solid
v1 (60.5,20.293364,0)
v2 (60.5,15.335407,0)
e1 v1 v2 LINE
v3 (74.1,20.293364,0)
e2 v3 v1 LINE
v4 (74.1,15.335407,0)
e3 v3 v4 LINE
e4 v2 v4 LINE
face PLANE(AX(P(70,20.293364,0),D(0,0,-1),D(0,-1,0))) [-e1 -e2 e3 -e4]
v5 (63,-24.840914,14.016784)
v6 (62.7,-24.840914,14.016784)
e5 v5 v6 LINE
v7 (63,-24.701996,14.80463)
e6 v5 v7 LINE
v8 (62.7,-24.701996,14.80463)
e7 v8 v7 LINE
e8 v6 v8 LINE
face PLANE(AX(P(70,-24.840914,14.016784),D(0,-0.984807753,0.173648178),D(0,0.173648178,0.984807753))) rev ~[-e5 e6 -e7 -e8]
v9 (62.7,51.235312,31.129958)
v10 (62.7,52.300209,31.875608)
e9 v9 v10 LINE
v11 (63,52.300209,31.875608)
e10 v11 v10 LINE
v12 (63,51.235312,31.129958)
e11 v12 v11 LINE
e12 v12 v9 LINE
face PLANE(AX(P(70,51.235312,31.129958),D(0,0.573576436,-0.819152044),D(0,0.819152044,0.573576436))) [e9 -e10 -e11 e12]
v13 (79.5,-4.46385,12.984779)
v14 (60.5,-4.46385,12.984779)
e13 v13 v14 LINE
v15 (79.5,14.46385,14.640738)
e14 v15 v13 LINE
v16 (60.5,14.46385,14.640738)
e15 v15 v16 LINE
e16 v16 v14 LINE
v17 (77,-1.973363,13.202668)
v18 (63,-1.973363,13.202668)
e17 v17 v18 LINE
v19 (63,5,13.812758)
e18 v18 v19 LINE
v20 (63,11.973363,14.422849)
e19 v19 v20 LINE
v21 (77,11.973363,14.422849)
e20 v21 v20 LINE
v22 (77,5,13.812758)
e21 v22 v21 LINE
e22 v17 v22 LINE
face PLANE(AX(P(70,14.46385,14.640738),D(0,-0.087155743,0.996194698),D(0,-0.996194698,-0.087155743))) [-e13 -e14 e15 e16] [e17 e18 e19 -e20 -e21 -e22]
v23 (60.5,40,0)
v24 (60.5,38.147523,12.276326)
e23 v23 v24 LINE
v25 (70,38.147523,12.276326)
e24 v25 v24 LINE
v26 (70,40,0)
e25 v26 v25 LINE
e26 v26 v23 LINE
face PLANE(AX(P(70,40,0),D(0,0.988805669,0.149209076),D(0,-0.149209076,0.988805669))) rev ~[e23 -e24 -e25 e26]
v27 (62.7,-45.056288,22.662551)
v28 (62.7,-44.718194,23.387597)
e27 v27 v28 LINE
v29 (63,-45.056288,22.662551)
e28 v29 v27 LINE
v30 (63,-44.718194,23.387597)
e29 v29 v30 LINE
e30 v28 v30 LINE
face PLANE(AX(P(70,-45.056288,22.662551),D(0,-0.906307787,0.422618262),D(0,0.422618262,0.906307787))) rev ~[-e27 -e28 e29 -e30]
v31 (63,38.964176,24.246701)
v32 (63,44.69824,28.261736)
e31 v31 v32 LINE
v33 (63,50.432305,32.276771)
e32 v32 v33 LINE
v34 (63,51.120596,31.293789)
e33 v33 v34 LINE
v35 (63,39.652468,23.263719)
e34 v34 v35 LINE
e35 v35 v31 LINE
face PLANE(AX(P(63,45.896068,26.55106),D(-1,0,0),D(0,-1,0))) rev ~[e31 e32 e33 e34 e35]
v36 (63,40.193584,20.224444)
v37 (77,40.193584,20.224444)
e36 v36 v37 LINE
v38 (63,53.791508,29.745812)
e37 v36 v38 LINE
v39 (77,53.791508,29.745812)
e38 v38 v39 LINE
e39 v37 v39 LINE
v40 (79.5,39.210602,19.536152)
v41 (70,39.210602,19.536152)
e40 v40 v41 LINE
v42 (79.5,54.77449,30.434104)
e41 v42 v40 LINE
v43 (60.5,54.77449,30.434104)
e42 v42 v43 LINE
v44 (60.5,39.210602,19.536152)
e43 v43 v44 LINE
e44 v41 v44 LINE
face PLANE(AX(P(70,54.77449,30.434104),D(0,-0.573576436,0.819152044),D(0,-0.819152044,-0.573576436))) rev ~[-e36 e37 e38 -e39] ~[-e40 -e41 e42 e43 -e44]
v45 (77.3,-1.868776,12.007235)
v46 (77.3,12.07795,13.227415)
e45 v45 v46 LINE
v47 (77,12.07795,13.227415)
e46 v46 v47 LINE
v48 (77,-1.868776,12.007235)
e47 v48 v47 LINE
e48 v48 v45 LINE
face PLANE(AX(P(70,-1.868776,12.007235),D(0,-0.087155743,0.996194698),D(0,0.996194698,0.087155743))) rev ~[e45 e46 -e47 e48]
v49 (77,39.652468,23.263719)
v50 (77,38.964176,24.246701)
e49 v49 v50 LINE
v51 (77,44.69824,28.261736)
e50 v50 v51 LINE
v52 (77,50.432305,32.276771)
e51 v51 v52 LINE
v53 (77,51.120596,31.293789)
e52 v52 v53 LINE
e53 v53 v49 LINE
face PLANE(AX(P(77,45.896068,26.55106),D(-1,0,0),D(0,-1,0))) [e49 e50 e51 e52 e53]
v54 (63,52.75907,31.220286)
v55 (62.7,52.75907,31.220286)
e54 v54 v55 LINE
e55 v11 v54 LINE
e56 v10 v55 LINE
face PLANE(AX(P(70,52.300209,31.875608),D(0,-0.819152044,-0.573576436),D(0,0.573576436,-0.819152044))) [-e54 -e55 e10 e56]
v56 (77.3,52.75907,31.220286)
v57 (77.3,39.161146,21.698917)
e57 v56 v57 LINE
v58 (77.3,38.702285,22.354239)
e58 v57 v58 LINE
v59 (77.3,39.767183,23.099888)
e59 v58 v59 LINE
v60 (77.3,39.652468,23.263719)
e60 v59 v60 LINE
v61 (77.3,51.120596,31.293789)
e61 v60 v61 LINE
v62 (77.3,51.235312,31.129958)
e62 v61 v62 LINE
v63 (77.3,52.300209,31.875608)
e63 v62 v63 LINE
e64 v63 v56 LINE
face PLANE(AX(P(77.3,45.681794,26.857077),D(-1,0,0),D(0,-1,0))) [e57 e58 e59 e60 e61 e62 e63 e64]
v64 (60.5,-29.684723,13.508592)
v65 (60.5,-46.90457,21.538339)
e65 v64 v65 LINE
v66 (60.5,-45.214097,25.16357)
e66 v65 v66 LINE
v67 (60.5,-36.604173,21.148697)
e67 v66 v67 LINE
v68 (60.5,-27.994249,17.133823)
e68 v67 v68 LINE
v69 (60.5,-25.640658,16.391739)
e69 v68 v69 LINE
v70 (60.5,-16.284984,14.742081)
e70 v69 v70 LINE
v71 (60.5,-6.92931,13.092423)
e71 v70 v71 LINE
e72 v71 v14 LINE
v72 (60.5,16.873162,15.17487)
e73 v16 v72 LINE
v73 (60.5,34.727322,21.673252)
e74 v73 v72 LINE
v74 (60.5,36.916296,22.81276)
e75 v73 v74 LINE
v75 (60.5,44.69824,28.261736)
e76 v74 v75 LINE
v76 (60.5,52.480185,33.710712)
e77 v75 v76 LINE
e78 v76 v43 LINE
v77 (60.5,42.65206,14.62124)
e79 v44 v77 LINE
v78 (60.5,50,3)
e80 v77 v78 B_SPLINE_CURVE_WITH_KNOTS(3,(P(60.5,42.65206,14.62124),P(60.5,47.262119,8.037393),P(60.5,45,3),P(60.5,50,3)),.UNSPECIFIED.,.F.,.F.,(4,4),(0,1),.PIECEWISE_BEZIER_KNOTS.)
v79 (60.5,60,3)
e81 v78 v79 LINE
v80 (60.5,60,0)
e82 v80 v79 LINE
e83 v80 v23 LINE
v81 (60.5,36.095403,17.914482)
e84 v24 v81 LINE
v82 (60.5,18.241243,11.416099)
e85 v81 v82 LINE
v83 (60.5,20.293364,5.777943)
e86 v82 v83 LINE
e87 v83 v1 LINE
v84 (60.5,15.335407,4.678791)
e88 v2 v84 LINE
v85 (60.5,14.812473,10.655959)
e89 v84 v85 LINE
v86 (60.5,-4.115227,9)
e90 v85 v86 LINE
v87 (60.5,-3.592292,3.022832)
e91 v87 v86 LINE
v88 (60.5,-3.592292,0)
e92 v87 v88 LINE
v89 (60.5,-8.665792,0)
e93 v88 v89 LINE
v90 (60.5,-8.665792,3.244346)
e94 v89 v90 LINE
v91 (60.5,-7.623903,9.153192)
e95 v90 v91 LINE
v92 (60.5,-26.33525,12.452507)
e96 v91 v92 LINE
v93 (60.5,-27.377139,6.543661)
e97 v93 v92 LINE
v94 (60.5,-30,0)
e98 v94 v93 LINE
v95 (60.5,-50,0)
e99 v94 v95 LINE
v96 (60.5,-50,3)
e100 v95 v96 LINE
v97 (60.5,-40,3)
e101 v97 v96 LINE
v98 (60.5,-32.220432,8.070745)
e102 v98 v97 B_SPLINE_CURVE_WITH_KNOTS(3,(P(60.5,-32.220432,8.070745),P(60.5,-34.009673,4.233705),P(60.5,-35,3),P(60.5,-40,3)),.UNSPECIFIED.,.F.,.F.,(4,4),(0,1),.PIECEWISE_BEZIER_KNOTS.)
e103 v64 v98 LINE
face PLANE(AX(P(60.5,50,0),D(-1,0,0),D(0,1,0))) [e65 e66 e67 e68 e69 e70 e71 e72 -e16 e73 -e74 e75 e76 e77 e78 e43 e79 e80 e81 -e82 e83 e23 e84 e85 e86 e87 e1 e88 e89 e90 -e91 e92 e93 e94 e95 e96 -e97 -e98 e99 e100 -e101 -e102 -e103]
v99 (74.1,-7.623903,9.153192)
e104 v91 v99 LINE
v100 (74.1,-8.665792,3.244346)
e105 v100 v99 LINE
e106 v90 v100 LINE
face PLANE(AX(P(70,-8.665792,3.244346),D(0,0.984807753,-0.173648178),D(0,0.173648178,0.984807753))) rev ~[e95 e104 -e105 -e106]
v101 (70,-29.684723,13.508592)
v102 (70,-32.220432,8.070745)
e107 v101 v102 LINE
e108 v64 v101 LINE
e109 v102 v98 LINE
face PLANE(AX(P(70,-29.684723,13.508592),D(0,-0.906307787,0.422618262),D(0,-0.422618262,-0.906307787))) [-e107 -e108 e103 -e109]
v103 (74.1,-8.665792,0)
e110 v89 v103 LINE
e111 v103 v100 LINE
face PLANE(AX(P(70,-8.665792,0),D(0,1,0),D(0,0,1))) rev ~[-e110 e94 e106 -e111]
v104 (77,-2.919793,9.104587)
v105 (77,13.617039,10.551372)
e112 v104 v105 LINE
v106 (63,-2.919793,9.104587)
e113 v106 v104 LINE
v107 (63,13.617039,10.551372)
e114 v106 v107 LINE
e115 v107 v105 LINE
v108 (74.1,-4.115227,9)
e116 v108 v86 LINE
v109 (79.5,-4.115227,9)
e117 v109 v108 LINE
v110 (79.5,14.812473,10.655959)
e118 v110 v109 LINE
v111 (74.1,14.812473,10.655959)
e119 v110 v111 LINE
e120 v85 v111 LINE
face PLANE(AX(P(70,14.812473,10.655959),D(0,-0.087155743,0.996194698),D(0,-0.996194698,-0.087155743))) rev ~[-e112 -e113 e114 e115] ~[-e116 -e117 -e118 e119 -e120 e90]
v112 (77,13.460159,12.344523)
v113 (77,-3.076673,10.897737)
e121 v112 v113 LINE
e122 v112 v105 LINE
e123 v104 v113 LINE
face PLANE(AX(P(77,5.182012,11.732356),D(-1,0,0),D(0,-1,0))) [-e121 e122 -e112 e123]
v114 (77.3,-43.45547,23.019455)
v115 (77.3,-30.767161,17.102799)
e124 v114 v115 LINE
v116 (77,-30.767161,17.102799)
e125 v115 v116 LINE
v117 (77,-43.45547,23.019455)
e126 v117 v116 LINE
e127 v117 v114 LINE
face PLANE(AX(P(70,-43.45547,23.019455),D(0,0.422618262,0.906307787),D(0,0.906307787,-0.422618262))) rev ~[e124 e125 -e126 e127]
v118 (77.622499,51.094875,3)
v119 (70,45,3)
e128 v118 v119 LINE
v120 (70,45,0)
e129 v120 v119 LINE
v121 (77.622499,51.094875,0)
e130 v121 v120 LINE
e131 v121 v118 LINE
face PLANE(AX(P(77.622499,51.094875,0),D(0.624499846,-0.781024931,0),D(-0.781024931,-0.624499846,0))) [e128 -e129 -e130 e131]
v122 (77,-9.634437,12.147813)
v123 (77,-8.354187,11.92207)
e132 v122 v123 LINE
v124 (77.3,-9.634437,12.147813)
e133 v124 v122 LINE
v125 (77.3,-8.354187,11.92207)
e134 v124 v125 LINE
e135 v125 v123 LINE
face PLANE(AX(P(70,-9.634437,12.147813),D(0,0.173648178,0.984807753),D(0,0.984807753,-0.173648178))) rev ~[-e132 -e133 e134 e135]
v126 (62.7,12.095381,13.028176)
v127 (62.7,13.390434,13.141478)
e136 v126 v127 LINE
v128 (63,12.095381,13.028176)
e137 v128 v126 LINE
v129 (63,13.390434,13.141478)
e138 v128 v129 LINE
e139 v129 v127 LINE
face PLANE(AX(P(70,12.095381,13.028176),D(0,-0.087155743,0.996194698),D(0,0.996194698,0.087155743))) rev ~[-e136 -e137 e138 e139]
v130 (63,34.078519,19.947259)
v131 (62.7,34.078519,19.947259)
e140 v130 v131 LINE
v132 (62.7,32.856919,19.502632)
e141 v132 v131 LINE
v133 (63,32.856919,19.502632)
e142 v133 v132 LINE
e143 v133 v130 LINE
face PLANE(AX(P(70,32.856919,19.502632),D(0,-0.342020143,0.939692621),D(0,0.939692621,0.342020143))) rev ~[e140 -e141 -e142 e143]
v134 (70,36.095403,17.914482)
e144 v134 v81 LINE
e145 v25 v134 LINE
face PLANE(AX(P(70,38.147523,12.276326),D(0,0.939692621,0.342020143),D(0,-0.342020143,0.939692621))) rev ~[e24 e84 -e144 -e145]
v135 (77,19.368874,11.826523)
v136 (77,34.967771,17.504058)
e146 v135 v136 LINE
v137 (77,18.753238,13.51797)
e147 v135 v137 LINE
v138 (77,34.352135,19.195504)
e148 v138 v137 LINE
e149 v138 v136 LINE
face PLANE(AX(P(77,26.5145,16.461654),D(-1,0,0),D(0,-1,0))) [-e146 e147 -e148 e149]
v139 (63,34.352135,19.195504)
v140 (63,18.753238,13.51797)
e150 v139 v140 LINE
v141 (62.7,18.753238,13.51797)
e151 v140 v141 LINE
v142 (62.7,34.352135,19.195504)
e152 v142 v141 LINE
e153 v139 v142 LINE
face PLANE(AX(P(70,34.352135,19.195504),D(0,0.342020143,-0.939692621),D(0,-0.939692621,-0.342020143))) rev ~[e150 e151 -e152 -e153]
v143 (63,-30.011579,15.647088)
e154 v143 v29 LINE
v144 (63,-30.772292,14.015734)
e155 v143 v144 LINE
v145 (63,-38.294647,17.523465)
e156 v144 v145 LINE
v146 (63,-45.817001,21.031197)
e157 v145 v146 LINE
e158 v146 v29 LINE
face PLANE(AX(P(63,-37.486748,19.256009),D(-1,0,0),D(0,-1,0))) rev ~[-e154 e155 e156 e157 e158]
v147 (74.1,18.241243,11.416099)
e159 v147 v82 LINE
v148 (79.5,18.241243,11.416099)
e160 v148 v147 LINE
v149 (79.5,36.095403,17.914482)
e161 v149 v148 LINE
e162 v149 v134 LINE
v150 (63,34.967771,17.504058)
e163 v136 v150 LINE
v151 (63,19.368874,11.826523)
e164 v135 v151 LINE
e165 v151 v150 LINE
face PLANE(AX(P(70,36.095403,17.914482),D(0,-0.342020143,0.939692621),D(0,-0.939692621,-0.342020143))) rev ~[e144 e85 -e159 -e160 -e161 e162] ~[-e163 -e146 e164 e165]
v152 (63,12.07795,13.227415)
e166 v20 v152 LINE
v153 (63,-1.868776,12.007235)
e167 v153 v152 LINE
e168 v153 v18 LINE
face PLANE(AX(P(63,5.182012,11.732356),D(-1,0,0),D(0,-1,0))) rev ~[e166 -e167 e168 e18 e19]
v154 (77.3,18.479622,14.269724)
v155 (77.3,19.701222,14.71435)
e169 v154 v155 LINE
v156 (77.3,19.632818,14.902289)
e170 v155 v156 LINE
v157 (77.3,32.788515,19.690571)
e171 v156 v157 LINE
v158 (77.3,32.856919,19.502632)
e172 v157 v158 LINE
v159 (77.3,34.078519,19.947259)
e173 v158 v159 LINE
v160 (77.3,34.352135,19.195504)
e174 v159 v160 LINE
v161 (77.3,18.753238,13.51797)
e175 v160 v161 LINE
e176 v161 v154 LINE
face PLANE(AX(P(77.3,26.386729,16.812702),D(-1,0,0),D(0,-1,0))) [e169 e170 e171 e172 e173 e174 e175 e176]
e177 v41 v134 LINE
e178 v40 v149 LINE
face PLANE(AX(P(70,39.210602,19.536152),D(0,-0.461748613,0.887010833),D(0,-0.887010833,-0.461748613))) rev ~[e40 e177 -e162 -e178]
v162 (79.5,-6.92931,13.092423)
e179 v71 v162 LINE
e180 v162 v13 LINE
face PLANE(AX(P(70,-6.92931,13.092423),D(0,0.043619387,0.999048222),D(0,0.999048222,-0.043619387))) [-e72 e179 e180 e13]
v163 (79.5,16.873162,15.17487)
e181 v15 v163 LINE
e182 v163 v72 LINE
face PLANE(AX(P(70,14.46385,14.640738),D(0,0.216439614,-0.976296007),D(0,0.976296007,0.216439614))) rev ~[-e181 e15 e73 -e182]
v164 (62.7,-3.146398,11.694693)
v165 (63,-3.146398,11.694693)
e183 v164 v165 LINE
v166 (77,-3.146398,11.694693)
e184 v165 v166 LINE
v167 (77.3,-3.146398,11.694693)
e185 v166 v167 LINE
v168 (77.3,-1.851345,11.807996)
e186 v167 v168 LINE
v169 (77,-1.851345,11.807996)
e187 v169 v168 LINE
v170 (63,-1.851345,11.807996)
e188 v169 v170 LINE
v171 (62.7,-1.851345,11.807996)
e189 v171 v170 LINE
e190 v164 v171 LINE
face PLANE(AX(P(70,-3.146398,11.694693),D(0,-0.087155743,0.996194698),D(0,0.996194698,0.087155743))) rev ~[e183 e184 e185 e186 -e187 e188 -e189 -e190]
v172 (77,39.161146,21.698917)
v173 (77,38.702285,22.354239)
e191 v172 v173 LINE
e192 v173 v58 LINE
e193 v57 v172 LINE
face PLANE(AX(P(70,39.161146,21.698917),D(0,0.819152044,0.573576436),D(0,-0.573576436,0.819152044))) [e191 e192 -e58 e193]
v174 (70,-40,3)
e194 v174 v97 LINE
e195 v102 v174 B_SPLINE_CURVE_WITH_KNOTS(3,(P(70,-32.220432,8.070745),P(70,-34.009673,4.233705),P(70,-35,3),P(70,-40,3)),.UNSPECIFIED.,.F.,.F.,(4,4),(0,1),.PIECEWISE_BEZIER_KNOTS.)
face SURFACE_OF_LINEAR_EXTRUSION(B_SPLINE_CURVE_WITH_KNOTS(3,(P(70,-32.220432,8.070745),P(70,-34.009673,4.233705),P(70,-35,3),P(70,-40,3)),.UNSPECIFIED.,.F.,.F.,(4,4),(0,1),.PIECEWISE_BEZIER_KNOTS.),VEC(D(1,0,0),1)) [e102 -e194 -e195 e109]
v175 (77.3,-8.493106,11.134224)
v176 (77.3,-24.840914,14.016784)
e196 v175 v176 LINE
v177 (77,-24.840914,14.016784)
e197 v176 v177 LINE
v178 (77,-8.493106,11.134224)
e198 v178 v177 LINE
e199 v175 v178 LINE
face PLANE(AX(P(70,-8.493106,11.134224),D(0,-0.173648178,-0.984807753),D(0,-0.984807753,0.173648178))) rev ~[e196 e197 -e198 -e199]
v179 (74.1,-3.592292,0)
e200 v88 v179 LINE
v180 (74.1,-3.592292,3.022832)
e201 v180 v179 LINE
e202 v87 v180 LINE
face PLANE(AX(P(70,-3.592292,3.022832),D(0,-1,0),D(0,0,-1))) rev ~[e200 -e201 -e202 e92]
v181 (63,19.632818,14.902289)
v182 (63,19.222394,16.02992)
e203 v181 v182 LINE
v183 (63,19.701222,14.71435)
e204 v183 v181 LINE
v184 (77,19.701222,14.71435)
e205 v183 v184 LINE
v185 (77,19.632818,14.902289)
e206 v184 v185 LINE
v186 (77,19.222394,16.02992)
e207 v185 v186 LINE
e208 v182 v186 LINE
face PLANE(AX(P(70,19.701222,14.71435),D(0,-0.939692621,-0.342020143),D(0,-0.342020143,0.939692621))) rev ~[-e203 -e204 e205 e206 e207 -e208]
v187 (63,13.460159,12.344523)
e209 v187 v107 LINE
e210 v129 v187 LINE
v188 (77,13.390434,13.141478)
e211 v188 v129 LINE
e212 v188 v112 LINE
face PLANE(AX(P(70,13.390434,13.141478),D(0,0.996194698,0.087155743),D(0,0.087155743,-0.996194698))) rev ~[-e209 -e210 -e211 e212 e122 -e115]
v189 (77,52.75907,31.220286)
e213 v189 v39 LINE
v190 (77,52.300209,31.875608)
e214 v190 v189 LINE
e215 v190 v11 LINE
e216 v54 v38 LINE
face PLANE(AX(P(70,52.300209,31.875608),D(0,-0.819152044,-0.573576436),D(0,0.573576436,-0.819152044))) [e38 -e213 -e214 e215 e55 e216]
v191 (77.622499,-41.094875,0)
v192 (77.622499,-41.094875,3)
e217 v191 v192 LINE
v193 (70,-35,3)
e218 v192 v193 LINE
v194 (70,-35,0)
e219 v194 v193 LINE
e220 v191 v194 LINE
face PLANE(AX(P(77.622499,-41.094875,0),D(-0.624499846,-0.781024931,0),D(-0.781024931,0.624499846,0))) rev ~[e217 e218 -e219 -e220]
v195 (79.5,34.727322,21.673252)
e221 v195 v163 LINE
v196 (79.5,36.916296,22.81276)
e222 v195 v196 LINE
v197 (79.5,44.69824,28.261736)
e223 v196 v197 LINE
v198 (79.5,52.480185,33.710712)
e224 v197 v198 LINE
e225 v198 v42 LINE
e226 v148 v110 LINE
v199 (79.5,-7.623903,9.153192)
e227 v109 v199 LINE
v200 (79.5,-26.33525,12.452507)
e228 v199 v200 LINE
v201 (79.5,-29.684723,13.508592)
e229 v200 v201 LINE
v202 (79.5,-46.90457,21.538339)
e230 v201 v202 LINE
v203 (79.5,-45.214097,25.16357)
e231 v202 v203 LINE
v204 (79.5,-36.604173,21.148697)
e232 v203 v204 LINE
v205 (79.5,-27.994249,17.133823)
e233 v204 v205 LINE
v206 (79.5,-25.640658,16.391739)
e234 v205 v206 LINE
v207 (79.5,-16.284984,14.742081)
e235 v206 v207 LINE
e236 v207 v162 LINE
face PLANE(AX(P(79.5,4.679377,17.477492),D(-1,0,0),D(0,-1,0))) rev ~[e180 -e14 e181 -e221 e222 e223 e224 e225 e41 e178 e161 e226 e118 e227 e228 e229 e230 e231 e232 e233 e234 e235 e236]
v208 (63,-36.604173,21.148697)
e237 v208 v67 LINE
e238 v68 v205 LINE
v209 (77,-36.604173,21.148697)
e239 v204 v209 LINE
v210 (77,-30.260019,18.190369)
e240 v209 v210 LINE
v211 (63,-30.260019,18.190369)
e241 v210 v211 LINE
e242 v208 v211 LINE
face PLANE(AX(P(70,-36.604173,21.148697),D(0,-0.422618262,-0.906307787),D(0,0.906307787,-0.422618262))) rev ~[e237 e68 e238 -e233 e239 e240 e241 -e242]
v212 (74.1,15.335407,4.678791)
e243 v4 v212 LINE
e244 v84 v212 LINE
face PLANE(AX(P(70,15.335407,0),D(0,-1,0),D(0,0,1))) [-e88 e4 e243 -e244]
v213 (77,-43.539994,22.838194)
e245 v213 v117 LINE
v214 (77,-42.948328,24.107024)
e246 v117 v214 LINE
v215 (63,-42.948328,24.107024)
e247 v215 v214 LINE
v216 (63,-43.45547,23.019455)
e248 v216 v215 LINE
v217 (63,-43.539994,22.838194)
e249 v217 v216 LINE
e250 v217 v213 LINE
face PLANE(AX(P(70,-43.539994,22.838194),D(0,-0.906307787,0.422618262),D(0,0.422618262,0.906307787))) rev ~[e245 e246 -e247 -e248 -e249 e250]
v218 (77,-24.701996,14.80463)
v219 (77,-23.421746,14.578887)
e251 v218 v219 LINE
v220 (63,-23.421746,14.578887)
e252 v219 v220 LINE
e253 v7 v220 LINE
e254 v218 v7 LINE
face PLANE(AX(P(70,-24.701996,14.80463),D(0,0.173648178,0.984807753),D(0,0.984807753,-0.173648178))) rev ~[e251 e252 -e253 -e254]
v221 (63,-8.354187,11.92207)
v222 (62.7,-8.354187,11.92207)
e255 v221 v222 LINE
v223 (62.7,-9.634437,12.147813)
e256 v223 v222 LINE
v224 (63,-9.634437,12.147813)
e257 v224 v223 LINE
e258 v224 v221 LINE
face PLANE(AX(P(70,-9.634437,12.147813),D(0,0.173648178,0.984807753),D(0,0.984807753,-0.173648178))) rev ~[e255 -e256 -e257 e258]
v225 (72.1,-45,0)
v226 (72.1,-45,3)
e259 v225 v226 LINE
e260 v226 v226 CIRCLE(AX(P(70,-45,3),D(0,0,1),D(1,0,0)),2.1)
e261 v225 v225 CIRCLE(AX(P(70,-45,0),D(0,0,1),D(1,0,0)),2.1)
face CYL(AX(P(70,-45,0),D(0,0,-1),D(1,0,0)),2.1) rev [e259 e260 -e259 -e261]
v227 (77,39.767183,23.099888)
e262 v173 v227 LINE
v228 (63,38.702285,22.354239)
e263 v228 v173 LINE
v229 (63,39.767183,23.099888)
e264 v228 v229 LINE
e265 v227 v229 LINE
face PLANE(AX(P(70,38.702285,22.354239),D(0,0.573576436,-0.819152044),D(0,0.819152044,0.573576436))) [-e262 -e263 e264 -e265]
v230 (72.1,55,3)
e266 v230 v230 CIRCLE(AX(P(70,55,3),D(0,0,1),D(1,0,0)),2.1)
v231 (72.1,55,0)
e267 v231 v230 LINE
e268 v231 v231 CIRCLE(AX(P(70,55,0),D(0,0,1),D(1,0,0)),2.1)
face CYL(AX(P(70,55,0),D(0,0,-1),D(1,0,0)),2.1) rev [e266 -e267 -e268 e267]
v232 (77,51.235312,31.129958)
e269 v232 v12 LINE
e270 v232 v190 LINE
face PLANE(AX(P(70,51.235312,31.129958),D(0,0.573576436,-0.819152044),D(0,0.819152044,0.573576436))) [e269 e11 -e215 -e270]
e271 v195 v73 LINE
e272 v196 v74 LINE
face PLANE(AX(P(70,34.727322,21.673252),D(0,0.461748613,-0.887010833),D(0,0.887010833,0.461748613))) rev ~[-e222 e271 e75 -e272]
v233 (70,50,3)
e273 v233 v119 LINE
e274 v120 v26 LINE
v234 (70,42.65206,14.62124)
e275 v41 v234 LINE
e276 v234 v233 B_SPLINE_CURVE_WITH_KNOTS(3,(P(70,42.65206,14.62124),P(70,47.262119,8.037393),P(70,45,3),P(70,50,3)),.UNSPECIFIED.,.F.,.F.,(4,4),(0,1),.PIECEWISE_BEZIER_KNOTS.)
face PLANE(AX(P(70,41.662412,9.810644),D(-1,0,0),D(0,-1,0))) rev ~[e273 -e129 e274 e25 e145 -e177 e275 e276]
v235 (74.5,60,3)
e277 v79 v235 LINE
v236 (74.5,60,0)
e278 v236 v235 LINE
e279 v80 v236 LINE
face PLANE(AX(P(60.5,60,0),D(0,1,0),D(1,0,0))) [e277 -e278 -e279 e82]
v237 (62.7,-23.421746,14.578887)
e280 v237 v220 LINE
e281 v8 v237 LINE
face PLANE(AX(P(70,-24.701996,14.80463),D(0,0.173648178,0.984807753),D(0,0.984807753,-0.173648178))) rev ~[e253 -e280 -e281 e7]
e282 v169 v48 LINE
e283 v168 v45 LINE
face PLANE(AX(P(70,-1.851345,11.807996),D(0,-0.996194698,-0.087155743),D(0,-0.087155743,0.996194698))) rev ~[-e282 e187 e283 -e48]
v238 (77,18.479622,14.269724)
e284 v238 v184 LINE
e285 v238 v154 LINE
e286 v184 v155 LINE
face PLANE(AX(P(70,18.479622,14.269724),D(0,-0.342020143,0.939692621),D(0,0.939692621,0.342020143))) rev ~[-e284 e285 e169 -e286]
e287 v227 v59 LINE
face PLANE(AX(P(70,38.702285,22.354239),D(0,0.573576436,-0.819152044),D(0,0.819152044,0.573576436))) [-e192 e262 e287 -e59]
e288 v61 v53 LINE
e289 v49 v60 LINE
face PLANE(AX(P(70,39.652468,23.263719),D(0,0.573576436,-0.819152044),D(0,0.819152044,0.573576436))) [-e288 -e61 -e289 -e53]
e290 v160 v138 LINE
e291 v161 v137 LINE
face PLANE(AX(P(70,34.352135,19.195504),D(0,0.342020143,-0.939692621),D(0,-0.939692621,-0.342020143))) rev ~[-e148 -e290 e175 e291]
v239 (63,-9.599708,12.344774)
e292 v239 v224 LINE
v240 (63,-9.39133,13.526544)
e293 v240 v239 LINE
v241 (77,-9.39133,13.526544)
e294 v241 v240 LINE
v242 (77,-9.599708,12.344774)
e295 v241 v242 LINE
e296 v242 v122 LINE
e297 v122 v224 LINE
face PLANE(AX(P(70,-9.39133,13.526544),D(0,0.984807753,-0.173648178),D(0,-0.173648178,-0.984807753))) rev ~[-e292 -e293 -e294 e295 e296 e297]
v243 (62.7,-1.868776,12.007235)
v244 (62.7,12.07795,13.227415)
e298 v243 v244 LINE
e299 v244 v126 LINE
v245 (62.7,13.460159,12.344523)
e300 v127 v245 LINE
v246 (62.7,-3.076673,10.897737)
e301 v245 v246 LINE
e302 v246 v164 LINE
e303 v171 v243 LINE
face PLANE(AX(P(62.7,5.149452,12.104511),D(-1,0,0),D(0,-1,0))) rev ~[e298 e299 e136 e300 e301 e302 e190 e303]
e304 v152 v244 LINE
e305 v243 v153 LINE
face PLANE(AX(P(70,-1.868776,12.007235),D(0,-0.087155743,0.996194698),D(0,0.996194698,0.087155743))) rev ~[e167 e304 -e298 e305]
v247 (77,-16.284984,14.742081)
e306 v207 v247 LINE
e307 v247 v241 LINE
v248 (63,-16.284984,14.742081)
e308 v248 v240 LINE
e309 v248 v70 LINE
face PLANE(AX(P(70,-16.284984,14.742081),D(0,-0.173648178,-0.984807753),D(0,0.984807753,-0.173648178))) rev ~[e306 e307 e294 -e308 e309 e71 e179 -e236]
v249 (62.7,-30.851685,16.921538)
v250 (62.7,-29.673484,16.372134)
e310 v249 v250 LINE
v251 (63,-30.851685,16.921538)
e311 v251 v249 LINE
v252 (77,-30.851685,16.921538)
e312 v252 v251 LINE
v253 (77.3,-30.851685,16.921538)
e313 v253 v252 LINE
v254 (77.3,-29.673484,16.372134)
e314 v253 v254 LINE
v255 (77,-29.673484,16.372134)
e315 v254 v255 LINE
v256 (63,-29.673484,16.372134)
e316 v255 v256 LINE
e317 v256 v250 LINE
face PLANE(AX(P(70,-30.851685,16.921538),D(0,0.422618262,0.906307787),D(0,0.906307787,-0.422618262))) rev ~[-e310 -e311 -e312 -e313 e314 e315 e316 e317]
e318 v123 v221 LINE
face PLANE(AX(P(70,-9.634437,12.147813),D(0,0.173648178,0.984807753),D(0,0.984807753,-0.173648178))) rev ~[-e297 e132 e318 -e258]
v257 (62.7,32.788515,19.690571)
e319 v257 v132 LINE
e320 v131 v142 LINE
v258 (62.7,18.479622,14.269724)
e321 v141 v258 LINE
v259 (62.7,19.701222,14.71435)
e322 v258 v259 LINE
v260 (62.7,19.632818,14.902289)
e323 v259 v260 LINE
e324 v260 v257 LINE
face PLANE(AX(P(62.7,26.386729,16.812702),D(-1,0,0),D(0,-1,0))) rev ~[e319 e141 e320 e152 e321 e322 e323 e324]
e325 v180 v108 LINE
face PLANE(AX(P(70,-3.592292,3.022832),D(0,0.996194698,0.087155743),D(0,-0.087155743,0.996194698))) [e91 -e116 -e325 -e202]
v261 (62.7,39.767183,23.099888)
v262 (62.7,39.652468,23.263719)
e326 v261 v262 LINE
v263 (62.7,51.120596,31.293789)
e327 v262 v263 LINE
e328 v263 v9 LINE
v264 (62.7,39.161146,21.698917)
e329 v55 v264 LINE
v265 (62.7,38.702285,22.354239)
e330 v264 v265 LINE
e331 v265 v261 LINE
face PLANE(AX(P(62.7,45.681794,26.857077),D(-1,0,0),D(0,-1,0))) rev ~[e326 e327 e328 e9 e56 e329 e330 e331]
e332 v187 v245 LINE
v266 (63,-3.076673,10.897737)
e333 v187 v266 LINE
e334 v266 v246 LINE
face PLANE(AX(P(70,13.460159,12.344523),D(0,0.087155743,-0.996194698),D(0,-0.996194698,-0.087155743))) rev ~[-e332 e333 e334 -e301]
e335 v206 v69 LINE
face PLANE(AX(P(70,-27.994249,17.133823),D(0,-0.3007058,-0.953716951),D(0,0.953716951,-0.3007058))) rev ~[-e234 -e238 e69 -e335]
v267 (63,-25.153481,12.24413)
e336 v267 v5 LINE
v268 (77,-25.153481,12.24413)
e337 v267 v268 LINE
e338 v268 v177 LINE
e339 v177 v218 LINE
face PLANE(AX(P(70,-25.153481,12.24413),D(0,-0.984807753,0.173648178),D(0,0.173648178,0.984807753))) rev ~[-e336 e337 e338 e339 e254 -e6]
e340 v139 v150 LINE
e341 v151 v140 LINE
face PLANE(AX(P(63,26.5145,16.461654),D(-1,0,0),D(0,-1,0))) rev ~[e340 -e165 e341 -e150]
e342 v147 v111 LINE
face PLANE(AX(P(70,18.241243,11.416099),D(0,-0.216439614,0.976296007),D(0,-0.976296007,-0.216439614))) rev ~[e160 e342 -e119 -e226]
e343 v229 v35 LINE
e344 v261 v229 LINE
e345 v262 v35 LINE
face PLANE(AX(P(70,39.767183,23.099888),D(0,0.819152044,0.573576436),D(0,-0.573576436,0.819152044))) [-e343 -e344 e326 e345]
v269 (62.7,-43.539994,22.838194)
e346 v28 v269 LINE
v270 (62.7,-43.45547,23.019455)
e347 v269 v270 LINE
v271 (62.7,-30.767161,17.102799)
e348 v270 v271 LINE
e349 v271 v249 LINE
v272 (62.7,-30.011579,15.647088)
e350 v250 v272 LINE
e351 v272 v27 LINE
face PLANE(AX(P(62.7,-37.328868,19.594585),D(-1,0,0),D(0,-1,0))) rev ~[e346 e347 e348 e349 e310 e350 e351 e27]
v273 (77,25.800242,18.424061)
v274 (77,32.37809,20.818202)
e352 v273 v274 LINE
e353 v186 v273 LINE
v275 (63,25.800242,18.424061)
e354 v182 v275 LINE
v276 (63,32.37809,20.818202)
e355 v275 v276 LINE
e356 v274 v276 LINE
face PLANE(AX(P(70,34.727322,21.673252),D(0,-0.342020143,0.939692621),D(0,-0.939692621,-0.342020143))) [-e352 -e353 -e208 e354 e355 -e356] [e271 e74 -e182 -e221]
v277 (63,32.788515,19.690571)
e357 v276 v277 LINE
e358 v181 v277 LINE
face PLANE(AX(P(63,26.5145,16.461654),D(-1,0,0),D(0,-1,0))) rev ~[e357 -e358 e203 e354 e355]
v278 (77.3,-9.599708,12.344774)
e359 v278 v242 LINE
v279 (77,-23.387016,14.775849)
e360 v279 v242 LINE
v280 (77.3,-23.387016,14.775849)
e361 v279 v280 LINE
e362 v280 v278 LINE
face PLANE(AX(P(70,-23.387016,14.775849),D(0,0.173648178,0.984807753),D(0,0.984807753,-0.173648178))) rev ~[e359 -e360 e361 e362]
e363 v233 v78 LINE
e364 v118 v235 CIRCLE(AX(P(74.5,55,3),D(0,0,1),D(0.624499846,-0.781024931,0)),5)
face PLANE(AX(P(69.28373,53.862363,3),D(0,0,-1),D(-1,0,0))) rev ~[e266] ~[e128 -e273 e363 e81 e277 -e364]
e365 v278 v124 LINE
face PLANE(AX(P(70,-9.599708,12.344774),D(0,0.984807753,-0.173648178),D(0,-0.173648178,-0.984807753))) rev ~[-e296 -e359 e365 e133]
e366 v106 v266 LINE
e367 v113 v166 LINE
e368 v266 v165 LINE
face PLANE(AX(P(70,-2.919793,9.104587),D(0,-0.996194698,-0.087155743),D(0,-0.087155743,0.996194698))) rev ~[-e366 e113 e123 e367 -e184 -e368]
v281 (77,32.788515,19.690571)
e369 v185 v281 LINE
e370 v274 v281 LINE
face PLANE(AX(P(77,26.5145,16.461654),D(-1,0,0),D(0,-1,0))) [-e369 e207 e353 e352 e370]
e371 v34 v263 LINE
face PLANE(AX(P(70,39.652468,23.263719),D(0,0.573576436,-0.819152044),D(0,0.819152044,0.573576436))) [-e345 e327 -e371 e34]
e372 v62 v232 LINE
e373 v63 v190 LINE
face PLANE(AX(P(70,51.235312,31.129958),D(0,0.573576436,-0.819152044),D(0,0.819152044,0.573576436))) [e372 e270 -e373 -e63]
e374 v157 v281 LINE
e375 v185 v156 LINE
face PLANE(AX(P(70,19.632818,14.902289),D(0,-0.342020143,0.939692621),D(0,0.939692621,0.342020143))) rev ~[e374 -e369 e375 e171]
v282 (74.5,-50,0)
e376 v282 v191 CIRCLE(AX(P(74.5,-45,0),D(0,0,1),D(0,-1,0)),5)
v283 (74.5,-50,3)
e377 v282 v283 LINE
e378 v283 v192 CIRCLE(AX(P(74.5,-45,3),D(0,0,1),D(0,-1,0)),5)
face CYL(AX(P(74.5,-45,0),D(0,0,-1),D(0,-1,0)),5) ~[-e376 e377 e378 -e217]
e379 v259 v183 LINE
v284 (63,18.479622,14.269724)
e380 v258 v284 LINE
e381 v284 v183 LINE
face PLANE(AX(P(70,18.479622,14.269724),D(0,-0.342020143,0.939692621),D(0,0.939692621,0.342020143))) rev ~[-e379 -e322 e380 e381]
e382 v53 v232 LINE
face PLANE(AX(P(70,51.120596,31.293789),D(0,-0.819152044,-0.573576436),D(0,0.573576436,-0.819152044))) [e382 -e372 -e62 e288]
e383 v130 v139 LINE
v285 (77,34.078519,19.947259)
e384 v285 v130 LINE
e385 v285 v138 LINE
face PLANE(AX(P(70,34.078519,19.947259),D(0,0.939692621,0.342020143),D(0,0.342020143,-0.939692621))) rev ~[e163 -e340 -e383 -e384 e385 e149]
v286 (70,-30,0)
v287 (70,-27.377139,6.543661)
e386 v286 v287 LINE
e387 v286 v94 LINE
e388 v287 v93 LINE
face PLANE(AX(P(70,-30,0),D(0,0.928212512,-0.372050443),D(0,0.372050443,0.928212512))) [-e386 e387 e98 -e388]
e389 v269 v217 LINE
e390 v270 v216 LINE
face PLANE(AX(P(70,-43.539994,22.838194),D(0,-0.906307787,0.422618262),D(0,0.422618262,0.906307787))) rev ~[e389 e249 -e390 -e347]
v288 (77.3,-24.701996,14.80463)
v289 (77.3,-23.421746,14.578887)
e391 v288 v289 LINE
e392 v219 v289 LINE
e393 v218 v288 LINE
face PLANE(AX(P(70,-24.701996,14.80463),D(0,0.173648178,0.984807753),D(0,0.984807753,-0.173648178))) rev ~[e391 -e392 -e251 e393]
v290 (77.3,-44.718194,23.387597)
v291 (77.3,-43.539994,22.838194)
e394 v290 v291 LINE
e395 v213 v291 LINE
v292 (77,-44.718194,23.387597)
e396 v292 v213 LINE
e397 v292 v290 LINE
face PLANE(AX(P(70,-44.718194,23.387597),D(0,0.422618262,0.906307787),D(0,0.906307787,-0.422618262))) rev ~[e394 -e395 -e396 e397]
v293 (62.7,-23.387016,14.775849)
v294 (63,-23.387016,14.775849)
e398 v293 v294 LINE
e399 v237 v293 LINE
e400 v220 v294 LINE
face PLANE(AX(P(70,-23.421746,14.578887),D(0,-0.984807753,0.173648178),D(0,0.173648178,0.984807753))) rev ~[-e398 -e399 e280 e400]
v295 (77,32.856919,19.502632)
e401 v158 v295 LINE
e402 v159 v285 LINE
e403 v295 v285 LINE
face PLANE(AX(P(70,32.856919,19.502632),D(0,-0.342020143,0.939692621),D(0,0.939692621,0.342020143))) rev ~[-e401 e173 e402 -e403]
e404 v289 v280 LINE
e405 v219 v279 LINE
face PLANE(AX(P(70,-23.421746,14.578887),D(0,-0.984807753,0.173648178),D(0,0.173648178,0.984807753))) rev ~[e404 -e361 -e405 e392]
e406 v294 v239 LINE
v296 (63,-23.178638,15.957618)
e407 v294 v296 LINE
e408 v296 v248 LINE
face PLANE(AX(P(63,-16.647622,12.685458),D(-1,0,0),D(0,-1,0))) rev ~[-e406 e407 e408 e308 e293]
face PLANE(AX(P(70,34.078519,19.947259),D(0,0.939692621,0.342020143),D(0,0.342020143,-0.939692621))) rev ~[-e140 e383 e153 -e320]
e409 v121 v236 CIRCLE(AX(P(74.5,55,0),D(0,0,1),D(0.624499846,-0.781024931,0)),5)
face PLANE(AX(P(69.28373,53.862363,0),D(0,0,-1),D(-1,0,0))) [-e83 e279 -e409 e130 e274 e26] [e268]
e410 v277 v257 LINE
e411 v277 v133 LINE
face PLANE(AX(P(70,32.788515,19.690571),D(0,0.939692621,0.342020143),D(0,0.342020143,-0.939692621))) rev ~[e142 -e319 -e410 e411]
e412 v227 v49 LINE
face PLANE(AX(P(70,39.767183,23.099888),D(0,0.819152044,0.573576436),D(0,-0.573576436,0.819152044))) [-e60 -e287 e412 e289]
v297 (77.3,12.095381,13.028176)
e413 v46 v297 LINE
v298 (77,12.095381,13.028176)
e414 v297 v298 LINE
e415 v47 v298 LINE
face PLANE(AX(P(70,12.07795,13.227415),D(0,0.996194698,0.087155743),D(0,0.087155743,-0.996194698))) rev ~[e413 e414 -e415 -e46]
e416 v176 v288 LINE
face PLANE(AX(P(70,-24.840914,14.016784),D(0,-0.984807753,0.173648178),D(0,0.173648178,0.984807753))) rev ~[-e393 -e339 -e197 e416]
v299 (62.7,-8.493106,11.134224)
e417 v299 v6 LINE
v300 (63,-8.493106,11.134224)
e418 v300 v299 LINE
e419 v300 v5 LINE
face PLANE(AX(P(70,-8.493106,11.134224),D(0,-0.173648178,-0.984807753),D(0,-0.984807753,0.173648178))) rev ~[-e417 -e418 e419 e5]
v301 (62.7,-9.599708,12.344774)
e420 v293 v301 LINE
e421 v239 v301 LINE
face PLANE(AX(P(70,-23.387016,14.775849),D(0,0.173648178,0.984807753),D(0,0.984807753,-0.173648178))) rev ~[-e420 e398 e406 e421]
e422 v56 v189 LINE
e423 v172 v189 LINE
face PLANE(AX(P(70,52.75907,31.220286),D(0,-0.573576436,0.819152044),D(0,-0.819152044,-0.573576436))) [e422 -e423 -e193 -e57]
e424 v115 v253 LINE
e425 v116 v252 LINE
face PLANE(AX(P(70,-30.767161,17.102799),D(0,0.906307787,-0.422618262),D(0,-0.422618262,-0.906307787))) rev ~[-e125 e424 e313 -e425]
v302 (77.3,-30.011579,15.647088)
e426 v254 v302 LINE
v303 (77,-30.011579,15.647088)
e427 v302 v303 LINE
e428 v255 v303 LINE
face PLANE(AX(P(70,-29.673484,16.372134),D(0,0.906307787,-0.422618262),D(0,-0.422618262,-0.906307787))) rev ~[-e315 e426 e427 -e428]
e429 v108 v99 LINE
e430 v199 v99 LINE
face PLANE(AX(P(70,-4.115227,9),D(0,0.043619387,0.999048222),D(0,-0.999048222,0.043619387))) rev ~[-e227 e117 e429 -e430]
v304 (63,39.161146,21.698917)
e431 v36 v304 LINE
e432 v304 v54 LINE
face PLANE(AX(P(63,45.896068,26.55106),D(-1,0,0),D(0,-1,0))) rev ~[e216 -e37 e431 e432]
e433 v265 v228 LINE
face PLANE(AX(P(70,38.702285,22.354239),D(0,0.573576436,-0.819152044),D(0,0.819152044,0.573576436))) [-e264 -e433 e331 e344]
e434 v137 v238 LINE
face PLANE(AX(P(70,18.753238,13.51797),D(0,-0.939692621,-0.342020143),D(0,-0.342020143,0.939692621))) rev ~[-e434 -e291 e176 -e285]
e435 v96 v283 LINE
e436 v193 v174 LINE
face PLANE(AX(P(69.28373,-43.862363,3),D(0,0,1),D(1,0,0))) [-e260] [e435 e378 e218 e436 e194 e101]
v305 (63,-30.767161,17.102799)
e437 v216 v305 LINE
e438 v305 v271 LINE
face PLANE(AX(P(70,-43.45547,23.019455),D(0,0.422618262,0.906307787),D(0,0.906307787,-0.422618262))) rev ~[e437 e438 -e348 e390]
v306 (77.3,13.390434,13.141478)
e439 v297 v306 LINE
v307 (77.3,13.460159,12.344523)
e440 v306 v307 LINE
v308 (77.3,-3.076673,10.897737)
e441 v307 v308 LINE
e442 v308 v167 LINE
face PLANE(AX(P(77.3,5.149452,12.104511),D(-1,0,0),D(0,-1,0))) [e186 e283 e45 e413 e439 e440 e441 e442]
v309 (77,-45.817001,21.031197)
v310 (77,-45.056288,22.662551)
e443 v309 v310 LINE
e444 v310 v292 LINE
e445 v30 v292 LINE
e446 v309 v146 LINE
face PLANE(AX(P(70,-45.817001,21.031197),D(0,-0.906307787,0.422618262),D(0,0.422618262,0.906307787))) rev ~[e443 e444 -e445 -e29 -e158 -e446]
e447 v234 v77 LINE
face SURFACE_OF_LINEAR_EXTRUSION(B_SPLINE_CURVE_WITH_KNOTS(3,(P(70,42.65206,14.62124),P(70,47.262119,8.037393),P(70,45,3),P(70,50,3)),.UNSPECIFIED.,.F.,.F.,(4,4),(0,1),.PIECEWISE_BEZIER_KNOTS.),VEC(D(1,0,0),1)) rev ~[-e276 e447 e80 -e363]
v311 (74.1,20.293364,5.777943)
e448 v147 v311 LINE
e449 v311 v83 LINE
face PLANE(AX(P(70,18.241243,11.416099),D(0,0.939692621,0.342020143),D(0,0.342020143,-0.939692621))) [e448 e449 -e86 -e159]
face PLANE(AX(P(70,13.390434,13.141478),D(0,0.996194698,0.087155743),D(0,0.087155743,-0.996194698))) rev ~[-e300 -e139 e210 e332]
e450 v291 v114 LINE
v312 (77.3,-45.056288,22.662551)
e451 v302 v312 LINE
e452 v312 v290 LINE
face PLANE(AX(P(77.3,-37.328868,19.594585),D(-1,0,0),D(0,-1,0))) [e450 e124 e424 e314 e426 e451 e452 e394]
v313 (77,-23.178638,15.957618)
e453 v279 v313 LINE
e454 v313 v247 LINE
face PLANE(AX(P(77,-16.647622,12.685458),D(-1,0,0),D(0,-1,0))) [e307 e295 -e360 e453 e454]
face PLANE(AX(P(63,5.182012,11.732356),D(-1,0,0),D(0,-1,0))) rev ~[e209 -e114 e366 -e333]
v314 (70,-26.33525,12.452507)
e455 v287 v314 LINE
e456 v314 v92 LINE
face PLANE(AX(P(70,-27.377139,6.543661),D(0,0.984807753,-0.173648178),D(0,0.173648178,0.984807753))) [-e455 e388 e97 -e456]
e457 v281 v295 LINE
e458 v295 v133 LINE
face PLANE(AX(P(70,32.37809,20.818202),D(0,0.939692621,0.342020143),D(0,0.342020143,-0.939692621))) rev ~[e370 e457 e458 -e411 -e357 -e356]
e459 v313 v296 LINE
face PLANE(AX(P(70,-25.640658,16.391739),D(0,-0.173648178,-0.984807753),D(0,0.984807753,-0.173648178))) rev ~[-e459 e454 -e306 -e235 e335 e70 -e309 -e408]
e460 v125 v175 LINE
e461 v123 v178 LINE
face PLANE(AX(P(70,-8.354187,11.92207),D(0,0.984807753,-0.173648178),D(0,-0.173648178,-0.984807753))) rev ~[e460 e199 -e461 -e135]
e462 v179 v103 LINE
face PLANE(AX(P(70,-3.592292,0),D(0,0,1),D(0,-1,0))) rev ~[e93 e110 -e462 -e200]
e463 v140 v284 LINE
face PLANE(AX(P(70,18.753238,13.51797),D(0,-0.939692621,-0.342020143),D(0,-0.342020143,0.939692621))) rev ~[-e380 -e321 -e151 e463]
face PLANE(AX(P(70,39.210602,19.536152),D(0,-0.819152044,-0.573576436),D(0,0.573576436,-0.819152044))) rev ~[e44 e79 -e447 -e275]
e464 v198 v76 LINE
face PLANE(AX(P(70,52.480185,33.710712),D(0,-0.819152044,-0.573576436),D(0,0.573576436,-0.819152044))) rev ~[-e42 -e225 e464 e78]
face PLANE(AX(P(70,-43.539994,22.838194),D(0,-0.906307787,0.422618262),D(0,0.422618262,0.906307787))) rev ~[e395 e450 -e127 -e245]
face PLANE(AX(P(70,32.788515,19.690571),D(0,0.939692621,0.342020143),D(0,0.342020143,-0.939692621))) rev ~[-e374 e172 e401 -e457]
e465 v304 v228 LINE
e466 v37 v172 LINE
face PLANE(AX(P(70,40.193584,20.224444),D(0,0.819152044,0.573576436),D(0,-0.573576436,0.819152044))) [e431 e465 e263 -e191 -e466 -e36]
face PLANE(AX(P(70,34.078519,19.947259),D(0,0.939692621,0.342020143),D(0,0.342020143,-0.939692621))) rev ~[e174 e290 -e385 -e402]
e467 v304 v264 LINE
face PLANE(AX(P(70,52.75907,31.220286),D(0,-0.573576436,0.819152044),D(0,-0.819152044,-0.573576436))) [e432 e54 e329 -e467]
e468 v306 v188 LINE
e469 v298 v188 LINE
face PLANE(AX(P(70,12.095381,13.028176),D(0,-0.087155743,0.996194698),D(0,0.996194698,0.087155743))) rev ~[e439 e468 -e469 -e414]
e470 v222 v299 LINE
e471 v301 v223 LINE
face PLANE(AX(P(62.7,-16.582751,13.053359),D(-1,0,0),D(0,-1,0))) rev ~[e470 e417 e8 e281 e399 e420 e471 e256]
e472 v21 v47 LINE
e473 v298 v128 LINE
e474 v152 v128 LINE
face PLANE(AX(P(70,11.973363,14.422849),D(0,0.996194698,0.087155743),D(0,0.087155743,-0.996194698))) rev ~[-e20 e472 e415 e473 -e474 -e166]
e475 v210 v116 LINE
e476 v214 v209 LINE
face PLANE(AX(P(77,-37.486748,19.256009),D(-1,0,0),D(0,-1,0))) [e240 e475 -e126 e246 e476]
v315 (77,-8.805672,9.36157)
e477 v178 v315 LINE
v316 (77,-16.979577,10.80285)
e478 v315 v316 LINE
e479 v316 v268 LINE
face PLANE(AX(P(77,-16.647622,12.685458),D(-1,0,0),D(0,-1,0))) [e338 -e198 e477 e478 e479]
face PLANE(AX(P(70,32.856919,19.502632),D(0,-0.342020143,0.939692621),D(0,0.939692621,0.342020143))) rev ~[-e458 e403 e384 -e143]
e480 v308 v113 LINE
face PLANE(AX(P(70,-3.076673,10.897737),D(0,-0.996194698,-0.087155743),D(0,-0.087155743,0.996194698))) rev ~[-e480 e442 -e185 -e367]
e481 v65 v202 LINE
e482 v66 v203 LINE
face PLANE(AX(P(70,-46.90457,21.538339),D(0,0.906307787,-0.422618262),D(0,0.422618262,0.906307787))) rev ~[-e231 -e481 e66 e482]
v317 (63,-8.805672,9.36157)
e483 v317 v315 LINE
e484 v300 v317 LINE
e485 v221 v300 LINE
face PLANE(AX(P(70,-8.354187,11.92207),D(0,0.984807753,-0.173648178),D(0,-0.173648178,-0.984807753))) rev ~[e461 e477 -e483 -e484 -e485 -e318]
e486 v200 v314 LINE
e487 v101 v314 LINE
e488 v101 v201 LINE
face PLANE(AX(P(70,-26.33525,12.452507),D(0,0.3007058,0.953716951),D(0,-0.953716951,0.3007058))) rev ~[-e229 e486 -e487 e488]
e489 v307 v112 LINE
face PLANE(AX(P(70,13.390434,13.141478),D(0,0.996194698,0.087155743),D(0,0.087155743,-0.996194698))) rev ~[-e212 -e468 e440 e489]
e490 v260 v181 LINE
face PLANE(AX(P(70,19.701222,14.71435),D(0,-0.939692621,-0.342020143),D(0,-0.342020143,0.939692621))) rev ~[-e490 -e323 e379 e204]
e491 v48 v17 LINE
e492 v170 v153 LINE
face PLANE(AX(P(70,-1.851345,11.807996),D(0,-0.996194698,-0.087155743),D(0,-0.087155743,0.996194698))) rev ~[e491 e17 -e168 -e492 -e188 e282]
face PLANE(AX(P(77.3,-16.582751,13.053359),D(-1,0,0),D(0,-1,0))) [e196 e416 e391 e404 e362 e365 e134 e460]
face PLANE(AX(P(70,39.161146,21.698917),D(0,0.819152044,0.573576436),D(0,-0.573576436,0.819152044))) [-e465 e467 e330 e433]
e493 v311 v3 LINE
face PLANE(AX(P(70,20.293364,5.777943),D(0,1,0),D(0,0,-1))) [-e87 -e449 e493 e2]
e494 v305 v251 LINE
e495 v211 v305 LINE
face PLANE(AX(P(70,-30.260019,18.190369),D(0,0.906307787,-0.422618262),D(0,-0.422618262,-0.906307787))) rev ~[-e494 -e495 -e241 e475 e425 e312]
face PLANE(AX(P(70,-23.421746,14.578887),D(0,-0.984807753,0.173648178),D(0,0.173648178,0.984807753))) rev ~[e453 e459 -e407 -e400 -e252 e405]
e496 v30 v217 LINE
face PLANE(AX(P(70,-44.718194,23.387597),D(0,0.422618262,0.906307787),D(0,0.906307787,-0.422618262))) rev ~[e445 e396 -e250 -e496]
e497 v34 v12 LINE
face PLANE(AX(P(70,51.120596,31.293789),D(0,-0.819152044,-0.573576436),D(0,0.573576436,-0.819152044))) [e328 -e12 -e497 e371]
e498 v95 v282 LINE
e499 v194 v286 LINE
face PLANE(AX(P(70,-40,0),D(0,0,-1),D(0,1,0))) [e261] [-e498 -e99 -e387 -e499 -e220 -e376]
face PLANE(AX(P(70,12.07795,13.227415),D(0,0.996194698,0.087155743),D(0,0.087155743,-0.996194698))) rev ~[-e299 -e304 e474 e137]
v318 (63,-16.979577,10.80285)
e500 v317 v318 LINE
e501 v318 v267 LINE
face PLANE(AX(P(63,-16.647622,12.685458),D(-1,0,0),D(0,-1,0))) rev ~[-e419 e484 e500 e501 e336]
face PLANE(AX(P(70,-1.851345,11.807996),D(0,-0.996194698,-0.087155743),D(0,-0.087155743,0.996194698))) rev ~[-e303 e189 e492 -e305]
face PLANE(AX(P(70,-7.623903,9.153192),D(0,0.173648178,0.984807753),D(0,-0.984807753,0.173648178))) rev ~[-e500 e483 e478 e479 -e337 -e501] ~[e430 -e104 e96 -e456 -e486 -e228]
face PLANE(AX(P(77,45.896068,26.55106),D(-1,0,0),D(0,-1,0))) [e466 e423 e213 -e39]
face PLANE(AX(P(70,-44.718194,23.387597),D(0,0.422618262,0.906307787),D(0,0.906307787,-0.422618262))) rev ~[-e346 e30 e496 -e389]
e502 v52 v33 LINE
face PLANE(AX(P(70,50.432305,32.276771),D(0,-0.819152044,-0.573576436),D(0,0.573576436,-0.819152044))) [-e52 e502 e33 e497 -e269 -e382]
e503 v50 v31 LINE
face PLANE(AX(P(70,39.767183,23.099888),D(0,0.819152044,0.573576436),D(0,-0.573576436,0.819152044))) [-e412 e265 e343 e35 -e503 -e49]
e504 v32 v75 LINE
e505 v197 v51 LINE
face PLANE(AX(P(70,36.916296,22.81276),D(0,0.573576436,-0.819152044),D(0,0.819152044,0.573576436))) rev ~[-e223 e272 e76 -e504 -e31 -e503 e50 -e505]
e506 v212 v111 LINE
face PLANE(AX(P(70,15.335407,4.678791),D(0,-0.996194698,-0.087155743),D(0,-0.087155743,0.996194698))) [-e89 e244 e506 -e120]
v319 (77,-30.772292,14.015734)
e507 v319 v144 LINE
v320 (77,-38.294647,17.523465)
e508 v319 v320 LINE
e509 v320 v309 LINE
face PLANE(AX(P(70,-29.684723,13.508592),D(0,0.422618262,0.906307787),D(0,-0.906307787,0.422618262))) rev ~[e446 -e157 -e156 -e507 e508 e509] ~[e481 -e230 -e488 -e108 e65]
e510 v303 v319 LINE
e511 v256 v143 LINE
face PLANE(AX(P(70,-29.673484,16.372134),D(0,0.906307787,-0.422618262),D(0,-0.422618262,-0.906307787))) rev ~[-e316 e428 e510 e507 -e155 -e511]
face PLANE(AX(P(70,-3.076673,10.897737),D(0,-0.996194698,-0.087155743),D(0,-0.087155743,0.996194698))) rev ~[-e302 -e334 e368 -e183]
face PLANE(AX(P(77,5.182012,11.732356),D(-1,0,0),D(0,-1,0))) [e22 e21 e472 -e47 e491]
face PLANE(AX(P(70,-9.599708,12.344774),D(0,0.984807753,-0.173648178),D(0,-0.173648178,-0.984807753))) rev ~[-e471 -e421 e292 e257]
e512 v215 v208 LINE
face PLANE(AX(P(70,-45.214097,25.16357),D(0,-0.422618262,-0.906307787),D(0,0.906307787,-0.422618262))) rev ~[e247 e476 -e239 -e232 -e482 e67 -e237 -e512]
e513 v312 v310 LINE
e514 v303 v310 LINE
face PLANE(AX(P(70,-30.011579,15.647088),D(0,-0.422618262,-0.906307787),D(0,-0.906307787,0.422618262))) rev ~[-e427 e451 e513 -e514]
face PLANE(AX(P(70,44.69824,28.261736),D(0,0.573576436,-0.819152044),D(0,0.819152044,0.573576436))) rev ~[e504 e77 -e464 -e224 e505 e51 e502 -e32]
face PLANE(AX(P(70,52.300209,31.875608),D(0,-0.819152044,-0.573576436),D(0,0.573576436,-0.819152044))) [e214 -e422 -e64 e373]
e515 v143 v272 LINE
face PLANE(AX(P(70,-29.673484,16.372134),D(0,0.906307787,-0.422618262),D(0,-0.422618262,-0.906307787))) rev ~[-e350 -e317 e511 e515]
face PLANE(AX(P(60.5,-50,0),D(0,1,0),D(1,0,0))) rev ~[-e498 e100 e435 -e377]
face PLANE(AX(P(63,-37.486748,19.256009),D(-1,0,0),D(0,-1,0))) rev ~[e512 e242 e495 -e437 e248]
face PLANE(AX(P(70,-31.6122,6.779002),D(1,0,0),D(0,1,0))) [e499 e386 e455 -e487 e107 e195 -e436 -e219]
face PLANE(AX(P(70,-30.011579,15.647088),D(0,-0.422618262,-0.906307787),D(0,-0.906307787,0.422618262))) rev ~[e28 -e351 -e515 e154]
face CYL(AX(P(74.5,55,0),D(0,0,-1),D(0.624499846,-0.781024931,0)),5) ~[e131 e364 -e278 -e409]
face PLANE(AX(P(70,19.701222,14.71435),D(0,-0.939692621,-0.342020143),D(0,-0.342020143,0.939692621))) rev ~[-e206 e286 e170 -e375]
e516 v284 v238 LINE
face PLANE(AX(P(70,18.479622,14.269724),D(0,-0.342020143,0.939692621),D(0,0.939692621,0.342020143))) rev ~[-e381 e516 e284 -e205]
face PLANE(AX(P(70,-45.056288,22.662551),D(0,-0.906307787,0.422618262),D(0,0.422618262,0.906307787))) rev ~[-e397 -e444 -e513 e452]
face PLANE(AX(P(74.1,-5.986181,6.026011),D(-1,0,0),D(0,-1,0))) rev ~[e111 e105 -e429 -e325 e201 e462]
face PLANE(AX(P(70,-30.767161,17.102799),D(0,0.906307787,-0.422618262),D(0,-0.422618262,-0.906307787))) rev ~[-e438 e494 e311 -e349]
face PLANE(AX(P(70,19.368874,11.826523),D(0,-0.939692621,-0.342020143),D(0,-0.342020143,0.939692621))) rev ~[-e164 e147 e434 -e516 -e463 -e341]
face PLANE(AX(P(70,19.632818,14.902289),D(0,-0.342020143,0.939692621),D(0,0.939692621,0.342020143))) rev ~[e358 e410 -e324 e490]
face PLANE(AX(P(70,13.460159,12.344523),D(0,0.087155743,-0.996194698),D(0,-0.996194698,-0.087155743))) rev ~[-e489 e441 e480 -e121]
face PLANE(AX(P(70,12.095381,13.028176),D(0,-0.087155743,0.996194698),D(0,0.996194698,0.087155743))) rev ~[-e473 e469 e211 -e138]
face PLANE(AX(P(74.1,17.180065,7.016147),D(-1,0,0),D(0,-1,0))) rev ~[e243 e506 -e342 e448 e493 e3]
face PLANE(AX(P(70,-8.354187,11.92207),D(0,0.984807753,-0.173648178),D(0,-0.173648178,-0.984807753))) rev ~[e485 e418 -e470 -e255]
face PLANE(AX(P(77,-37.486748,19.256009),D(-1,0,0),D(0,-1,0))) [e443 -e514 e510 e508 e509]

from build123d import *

# Parameters (mm, degrees)
PAD012_DEPTH      = 9.5
POCKET006_DEPTH   = 7
POCKET007_DEPTH   = 7.3
PAD013_DEPTH      = 4.1
PAD013_DEPTH_BACK = 9.5
PAD014_DEPTH      = 9.5
SKETCH025_R       = 2.1
PAD015_DEPTH      = 3


with BuildPart() as part:
    # Sketch020 → Pad012 (new body, symmetric)
    with BuildSketch(Plane.YZ):
        Polygon((-50.2140974459, 25.1635701277), (-41.604173469, 21.1486966411), (-32.9942494922, 17.1338231546), (-30.6406576873, 16.391738509), (-21.2849840337, 14.7420808212), (-11.9293103801, 13.0924231333), (-9.4638496319, 12.9847787924), (0, 13.8127583485), (9.4638496319, 14.6407379046), (11.8731622478, 15.1748696522), (20.8002421453, 18.4240610138), (29.7273220428, 21.6732523754), (31.9162958532, 22.8127600156), (39.698240274, 28.2617361609), (47.4801846947, 33.7107123063), (49.7744904401, 30.4341041291), (34.2106015986, 19.5361518385), (31.0954026161, 17.9144818922), (13.2412428211, 11.416099169), (9.8124726029, 10.6559591122), (-9.1152266609, 9), (-12.6239030908, 9.1531921213), (-31.335250398, 12.452507497), (-34.6847225392, 13.5085920065), (-51.9045704929, 21.5383389795), align=None)
    extrude(amount=PAD012_DEPTH, both=True)

    # Sketch021 → Pocket006 (cut, symmetric)
    with BuildSketch(Plane.YZ):
        Polygon((-47.9483279783, 24.1070244733), (-41.604173469, 21.1486966411), (-35.2600189598, 18.190368809), (-35.8516845262, 16.9215379071), (-34.6734844031, 16.3721341668), (-35.7722918836, 14.0157339205), (-43.294646516, 17.523465493), (-50.8170011484, 21.0311970654), (-49.7181936679, 23.3875973117), (-48.5399935447, 22.8381935715), align=None)
        Polygon((-30.1534810944, 12.2441296838), (-29.7019958324, 14.8046298416), (-28.4217457535, 14.5788872106), (-28.1786383048, 15.9576180648), (-21.2849840337, 14.7420808212), (-14.3913297626, 13.5265435775), (-14.6344372114, 12.1478127233), (-13.3541871324, 11.9220700923), (-13.8056723944, 9.3615699345), (-21.9795767444, 10.8028498091), align=None)
        Polygon((-8.1463979543, 11.6946931063), (-6.8513448468, 11.8079955719), (-6.9733628866, 13.2026681492), (0, 13.8127583485), (6.9733628866, 14.4228485477), (7.0953809265, 13.0281759704), (8.390434034, 13.1414784359), (8.6170389652, 10.5513722209), (0.348622971, 9.8279795561), (-7.9197930232, 9.1045868913), align=None)
        Polygon((14.2223937998, 16.0299200105), (20.8002421453, 18.4240610138), (27.3780904908, 20.818202017), (27.8569186914, 19.5026323479), (29.0785190985, 19.9472585343), (29.9677714711, 17.5040577202), (22.1683227186, 14.6652905306), (14.3688739661, 11.826523341), (13.4796215934, 14.2697241551), (14.7012220004, 14.7143503414), align=None)
        Polygon((33.7022853173, 22.3542388772), (34.7671829748, 23.0998882445), (33.964175964, 24.2467011065), (39.698240274, 28.2617361609), (45.432304584, 32.2767712154), (46.2353115949, 31.1299583534), (47.3002092525, 31.8756077207), (48.791507987, 29.7458124055), (41.9925460194, 24.9851279838), (35.1935840518, 20.2244435621), align=None)
    extrude(amount=POCKET006_DEPTH, both=True, mode=Mode.SUBTRACT)

    # Sketch022 → Pocket007 (cut, symmetric)
    with BuildSketch(Plane.YZ):
        Polygon((-48.4554698924, 23.0194551289), (-35.7671608739, 17.1027994645), (-35.8516845262, 16.9215379071), (-34.6734844031, 16.3721341668), (-35.0115790125, 15.6470879372), (-50.0562882773, 22.6625510822), (-49.7181936678, 23.3875973117), (-48.5399935447, 22.8381935715), align=None)
        Polygon((-28.387016118, 14.7758487612), (-14.5997075758, 12.3447742739), (-14.6344372114, 12.1478127233), (-13.3541871325, 11.9220700923), (-13.4931056746, 11.1342238899), (-29.8409143746, 14.0167836392), (-29.7019958324, 14.8046298416), (-28.4217457535, 14.5788872107), align=None)
        Polygon((-6.8687759954, 12.0072345116), (7.077949778, 13.2274149099), (7.0953809265, 13.0281759703), (8.390434034, 13.1414784359), (8.4601586282, 12.3445226773), (-8.0766733601, 10.8977373481), (-8.1463979543, 11.6946931063), (-6.8513448468, 11.8079955719), align=None)
        Polygon((14.6328179716, 14.9022888661), (27.788514663, 19.6905708716), (27.8569186915, 19.5026323479), (29.0785190985, 19.9472585342), (29.3521352133, 19.1955044372), (13.7532377079, 13.5179700589), (13.4796215934, 14.269724155), (14.7012220005, 14.7143503413), align=None)
        Polygon((34.6524676876, 23.2637186533), (46.1205963076, 31.2937887623), (46.2353115949, 31.1299583534), (47.3002092525, 31.8756077206), (47.7590704015, 31.2202860852), (34.1611464664, 21.6989172418), (33.7022853173, 22.3542388772), (34.7671829749, 23.0998882444), align=None)
    extrude(amount=POCKET007_DEPTH, both=True, mode=Mode.SUBTRACT)

    # Sketch023 → Pad013 (join, two sides)
    with BuildSketch(Plane.YZ) as pad013_sk:
        Polygon((-11.9293103801, 13.0924231333), (-9.4638496319, 12.9847787924), (-9.1152266609, 9), (-8.5922922044, 3.0228318114), (-8.5922922044, 0), (-13.6657921568, 0), (-13.6657921568, 3.2443456032), (-12.6239030908, 9.1531921213), align=None)
        Polygon((9.8124726029, 10.6559591122), (9.4638496319, 14.6407379046), (11.8731622478, 15.1748696522), (13.2412428211, 11.416099169), (15.2933636811, 5.7779434443), (15.2933636811, 0), (10.3354070593, 0), (10.3354070593, 4.6787909237), align=None)
    extrude(amount=PAD013_DEPTH)
    extrude(pad013_sk.sketch, amount=-PAD013_DEPTH_BACK)

    # Sketch024 → Pad014 (join)
    with BuildSketch(Plane.YZ):
        with BuildLine():
            Line((-45, 0), (-35, 0))
            Line((-35, 0), (-32.377139464, 6.5436609789))
            Line((-32.377139464, 6.5436609789), (-31.335250398, 12.452507497))
            Line((-31.335250398, 12.452507497), (-30.6406576873, 16.391738509))
            Line((-30.6406576873, 16.391738509), (-32.9942494922, 17.1338231546))
            Line((-32.9942494922, 17.1338231546), (-34.6847225392, 13.5085920065))
            Line((-34.6847225392, 13.5085920065), (-37.2204321096, 8.0707452842))
            add(Edge.make_bspline(
                [(-37.2204321096, 8.0707452842), (-39.0096732627, 4.233705249), (-40, 3), (-45, 3)],
                knots=[0, 0, 0, 0, 1, 1, 1, 1], degree=3))
            Line((-45, 3), (-45, 0))
        make_face()
        with BuildLine():
            Line((45, 3), (45, 0))
            Line((45, 0), (35, 0))
            Line((35, 0), (33.147523476, 12.2763261675))
            Line((33.147523476, 12.2763261675), (31.0954026161, 17.9144818922))
            Line((31.0954026161, 17.9144818922), (29.7273220428, 21.6732523754))
            Line((29.7273220428, 21.6732523754), (31.9162958532, 22.8127600156))
            Line((31.9162958532, 22.8127600156), (34.2106015986, 19.5361518385))
            Line((34.2106015986, 19.5361518385), (37.6520602167, 14.6212395727))
            add(Edge.make_bspline(
                [(37.6520602167, 14.6212395727), (42.2621193459, 8.0373928164), (40, 3), (45, 3)],
                knots=[0, 0, 0, 0, 1, 1, 1, 1], degree=3))
        make_face()
    extrude(amount=-PAD014_DEPTH)

    # Sketch025 → Pad015 (join)
    with BuildSketch(Plane.XY):
        with BuildLine():
            Line((0, 45), (-9.5, 45))
            Line((-9.5, 45), (-9.5, 55))
            Line((-9.5, 55), (4.5, 55))
            ThreePointArc((7.6224992299, 46.0948753465), (9.218348401, 51.6544450327), (4.5, 55))
            Line((7.6224992299, 46.0948753465), (0, 40))
            Line((0, 45), (0, 40))
        make_face()
        with Locations((0, 50)):
            Circle(SKETCH025_R, mode=Mode.SUBTRACT)
        with BuildLine():
            Line((0, -45), (-9.5, -45))
            Line((-9.5, -45), (-9.5, -55))
            Line((-9.5, -55), (4.5, -55))
            ThreePointArc((4.5, -55), (9.218348401, -51.6544450327), (7.6224992299, -46.0948753465))
            Line((7.6224992299, -46.0948753465), (0, -40))
            Line((0, -40), (0, -45))
        make_face()
        with Locations((0, -50)):
            Circle(SKETCH025_R, mode=Mode.SUBTRACT)
    extrude(amount=PAD015_DEPTH)


with BuildPart() as part_1:
    # Body003 placement: moved
    add(part.part.moved(Location((70, 5, 0))))


solid = part_1.part
